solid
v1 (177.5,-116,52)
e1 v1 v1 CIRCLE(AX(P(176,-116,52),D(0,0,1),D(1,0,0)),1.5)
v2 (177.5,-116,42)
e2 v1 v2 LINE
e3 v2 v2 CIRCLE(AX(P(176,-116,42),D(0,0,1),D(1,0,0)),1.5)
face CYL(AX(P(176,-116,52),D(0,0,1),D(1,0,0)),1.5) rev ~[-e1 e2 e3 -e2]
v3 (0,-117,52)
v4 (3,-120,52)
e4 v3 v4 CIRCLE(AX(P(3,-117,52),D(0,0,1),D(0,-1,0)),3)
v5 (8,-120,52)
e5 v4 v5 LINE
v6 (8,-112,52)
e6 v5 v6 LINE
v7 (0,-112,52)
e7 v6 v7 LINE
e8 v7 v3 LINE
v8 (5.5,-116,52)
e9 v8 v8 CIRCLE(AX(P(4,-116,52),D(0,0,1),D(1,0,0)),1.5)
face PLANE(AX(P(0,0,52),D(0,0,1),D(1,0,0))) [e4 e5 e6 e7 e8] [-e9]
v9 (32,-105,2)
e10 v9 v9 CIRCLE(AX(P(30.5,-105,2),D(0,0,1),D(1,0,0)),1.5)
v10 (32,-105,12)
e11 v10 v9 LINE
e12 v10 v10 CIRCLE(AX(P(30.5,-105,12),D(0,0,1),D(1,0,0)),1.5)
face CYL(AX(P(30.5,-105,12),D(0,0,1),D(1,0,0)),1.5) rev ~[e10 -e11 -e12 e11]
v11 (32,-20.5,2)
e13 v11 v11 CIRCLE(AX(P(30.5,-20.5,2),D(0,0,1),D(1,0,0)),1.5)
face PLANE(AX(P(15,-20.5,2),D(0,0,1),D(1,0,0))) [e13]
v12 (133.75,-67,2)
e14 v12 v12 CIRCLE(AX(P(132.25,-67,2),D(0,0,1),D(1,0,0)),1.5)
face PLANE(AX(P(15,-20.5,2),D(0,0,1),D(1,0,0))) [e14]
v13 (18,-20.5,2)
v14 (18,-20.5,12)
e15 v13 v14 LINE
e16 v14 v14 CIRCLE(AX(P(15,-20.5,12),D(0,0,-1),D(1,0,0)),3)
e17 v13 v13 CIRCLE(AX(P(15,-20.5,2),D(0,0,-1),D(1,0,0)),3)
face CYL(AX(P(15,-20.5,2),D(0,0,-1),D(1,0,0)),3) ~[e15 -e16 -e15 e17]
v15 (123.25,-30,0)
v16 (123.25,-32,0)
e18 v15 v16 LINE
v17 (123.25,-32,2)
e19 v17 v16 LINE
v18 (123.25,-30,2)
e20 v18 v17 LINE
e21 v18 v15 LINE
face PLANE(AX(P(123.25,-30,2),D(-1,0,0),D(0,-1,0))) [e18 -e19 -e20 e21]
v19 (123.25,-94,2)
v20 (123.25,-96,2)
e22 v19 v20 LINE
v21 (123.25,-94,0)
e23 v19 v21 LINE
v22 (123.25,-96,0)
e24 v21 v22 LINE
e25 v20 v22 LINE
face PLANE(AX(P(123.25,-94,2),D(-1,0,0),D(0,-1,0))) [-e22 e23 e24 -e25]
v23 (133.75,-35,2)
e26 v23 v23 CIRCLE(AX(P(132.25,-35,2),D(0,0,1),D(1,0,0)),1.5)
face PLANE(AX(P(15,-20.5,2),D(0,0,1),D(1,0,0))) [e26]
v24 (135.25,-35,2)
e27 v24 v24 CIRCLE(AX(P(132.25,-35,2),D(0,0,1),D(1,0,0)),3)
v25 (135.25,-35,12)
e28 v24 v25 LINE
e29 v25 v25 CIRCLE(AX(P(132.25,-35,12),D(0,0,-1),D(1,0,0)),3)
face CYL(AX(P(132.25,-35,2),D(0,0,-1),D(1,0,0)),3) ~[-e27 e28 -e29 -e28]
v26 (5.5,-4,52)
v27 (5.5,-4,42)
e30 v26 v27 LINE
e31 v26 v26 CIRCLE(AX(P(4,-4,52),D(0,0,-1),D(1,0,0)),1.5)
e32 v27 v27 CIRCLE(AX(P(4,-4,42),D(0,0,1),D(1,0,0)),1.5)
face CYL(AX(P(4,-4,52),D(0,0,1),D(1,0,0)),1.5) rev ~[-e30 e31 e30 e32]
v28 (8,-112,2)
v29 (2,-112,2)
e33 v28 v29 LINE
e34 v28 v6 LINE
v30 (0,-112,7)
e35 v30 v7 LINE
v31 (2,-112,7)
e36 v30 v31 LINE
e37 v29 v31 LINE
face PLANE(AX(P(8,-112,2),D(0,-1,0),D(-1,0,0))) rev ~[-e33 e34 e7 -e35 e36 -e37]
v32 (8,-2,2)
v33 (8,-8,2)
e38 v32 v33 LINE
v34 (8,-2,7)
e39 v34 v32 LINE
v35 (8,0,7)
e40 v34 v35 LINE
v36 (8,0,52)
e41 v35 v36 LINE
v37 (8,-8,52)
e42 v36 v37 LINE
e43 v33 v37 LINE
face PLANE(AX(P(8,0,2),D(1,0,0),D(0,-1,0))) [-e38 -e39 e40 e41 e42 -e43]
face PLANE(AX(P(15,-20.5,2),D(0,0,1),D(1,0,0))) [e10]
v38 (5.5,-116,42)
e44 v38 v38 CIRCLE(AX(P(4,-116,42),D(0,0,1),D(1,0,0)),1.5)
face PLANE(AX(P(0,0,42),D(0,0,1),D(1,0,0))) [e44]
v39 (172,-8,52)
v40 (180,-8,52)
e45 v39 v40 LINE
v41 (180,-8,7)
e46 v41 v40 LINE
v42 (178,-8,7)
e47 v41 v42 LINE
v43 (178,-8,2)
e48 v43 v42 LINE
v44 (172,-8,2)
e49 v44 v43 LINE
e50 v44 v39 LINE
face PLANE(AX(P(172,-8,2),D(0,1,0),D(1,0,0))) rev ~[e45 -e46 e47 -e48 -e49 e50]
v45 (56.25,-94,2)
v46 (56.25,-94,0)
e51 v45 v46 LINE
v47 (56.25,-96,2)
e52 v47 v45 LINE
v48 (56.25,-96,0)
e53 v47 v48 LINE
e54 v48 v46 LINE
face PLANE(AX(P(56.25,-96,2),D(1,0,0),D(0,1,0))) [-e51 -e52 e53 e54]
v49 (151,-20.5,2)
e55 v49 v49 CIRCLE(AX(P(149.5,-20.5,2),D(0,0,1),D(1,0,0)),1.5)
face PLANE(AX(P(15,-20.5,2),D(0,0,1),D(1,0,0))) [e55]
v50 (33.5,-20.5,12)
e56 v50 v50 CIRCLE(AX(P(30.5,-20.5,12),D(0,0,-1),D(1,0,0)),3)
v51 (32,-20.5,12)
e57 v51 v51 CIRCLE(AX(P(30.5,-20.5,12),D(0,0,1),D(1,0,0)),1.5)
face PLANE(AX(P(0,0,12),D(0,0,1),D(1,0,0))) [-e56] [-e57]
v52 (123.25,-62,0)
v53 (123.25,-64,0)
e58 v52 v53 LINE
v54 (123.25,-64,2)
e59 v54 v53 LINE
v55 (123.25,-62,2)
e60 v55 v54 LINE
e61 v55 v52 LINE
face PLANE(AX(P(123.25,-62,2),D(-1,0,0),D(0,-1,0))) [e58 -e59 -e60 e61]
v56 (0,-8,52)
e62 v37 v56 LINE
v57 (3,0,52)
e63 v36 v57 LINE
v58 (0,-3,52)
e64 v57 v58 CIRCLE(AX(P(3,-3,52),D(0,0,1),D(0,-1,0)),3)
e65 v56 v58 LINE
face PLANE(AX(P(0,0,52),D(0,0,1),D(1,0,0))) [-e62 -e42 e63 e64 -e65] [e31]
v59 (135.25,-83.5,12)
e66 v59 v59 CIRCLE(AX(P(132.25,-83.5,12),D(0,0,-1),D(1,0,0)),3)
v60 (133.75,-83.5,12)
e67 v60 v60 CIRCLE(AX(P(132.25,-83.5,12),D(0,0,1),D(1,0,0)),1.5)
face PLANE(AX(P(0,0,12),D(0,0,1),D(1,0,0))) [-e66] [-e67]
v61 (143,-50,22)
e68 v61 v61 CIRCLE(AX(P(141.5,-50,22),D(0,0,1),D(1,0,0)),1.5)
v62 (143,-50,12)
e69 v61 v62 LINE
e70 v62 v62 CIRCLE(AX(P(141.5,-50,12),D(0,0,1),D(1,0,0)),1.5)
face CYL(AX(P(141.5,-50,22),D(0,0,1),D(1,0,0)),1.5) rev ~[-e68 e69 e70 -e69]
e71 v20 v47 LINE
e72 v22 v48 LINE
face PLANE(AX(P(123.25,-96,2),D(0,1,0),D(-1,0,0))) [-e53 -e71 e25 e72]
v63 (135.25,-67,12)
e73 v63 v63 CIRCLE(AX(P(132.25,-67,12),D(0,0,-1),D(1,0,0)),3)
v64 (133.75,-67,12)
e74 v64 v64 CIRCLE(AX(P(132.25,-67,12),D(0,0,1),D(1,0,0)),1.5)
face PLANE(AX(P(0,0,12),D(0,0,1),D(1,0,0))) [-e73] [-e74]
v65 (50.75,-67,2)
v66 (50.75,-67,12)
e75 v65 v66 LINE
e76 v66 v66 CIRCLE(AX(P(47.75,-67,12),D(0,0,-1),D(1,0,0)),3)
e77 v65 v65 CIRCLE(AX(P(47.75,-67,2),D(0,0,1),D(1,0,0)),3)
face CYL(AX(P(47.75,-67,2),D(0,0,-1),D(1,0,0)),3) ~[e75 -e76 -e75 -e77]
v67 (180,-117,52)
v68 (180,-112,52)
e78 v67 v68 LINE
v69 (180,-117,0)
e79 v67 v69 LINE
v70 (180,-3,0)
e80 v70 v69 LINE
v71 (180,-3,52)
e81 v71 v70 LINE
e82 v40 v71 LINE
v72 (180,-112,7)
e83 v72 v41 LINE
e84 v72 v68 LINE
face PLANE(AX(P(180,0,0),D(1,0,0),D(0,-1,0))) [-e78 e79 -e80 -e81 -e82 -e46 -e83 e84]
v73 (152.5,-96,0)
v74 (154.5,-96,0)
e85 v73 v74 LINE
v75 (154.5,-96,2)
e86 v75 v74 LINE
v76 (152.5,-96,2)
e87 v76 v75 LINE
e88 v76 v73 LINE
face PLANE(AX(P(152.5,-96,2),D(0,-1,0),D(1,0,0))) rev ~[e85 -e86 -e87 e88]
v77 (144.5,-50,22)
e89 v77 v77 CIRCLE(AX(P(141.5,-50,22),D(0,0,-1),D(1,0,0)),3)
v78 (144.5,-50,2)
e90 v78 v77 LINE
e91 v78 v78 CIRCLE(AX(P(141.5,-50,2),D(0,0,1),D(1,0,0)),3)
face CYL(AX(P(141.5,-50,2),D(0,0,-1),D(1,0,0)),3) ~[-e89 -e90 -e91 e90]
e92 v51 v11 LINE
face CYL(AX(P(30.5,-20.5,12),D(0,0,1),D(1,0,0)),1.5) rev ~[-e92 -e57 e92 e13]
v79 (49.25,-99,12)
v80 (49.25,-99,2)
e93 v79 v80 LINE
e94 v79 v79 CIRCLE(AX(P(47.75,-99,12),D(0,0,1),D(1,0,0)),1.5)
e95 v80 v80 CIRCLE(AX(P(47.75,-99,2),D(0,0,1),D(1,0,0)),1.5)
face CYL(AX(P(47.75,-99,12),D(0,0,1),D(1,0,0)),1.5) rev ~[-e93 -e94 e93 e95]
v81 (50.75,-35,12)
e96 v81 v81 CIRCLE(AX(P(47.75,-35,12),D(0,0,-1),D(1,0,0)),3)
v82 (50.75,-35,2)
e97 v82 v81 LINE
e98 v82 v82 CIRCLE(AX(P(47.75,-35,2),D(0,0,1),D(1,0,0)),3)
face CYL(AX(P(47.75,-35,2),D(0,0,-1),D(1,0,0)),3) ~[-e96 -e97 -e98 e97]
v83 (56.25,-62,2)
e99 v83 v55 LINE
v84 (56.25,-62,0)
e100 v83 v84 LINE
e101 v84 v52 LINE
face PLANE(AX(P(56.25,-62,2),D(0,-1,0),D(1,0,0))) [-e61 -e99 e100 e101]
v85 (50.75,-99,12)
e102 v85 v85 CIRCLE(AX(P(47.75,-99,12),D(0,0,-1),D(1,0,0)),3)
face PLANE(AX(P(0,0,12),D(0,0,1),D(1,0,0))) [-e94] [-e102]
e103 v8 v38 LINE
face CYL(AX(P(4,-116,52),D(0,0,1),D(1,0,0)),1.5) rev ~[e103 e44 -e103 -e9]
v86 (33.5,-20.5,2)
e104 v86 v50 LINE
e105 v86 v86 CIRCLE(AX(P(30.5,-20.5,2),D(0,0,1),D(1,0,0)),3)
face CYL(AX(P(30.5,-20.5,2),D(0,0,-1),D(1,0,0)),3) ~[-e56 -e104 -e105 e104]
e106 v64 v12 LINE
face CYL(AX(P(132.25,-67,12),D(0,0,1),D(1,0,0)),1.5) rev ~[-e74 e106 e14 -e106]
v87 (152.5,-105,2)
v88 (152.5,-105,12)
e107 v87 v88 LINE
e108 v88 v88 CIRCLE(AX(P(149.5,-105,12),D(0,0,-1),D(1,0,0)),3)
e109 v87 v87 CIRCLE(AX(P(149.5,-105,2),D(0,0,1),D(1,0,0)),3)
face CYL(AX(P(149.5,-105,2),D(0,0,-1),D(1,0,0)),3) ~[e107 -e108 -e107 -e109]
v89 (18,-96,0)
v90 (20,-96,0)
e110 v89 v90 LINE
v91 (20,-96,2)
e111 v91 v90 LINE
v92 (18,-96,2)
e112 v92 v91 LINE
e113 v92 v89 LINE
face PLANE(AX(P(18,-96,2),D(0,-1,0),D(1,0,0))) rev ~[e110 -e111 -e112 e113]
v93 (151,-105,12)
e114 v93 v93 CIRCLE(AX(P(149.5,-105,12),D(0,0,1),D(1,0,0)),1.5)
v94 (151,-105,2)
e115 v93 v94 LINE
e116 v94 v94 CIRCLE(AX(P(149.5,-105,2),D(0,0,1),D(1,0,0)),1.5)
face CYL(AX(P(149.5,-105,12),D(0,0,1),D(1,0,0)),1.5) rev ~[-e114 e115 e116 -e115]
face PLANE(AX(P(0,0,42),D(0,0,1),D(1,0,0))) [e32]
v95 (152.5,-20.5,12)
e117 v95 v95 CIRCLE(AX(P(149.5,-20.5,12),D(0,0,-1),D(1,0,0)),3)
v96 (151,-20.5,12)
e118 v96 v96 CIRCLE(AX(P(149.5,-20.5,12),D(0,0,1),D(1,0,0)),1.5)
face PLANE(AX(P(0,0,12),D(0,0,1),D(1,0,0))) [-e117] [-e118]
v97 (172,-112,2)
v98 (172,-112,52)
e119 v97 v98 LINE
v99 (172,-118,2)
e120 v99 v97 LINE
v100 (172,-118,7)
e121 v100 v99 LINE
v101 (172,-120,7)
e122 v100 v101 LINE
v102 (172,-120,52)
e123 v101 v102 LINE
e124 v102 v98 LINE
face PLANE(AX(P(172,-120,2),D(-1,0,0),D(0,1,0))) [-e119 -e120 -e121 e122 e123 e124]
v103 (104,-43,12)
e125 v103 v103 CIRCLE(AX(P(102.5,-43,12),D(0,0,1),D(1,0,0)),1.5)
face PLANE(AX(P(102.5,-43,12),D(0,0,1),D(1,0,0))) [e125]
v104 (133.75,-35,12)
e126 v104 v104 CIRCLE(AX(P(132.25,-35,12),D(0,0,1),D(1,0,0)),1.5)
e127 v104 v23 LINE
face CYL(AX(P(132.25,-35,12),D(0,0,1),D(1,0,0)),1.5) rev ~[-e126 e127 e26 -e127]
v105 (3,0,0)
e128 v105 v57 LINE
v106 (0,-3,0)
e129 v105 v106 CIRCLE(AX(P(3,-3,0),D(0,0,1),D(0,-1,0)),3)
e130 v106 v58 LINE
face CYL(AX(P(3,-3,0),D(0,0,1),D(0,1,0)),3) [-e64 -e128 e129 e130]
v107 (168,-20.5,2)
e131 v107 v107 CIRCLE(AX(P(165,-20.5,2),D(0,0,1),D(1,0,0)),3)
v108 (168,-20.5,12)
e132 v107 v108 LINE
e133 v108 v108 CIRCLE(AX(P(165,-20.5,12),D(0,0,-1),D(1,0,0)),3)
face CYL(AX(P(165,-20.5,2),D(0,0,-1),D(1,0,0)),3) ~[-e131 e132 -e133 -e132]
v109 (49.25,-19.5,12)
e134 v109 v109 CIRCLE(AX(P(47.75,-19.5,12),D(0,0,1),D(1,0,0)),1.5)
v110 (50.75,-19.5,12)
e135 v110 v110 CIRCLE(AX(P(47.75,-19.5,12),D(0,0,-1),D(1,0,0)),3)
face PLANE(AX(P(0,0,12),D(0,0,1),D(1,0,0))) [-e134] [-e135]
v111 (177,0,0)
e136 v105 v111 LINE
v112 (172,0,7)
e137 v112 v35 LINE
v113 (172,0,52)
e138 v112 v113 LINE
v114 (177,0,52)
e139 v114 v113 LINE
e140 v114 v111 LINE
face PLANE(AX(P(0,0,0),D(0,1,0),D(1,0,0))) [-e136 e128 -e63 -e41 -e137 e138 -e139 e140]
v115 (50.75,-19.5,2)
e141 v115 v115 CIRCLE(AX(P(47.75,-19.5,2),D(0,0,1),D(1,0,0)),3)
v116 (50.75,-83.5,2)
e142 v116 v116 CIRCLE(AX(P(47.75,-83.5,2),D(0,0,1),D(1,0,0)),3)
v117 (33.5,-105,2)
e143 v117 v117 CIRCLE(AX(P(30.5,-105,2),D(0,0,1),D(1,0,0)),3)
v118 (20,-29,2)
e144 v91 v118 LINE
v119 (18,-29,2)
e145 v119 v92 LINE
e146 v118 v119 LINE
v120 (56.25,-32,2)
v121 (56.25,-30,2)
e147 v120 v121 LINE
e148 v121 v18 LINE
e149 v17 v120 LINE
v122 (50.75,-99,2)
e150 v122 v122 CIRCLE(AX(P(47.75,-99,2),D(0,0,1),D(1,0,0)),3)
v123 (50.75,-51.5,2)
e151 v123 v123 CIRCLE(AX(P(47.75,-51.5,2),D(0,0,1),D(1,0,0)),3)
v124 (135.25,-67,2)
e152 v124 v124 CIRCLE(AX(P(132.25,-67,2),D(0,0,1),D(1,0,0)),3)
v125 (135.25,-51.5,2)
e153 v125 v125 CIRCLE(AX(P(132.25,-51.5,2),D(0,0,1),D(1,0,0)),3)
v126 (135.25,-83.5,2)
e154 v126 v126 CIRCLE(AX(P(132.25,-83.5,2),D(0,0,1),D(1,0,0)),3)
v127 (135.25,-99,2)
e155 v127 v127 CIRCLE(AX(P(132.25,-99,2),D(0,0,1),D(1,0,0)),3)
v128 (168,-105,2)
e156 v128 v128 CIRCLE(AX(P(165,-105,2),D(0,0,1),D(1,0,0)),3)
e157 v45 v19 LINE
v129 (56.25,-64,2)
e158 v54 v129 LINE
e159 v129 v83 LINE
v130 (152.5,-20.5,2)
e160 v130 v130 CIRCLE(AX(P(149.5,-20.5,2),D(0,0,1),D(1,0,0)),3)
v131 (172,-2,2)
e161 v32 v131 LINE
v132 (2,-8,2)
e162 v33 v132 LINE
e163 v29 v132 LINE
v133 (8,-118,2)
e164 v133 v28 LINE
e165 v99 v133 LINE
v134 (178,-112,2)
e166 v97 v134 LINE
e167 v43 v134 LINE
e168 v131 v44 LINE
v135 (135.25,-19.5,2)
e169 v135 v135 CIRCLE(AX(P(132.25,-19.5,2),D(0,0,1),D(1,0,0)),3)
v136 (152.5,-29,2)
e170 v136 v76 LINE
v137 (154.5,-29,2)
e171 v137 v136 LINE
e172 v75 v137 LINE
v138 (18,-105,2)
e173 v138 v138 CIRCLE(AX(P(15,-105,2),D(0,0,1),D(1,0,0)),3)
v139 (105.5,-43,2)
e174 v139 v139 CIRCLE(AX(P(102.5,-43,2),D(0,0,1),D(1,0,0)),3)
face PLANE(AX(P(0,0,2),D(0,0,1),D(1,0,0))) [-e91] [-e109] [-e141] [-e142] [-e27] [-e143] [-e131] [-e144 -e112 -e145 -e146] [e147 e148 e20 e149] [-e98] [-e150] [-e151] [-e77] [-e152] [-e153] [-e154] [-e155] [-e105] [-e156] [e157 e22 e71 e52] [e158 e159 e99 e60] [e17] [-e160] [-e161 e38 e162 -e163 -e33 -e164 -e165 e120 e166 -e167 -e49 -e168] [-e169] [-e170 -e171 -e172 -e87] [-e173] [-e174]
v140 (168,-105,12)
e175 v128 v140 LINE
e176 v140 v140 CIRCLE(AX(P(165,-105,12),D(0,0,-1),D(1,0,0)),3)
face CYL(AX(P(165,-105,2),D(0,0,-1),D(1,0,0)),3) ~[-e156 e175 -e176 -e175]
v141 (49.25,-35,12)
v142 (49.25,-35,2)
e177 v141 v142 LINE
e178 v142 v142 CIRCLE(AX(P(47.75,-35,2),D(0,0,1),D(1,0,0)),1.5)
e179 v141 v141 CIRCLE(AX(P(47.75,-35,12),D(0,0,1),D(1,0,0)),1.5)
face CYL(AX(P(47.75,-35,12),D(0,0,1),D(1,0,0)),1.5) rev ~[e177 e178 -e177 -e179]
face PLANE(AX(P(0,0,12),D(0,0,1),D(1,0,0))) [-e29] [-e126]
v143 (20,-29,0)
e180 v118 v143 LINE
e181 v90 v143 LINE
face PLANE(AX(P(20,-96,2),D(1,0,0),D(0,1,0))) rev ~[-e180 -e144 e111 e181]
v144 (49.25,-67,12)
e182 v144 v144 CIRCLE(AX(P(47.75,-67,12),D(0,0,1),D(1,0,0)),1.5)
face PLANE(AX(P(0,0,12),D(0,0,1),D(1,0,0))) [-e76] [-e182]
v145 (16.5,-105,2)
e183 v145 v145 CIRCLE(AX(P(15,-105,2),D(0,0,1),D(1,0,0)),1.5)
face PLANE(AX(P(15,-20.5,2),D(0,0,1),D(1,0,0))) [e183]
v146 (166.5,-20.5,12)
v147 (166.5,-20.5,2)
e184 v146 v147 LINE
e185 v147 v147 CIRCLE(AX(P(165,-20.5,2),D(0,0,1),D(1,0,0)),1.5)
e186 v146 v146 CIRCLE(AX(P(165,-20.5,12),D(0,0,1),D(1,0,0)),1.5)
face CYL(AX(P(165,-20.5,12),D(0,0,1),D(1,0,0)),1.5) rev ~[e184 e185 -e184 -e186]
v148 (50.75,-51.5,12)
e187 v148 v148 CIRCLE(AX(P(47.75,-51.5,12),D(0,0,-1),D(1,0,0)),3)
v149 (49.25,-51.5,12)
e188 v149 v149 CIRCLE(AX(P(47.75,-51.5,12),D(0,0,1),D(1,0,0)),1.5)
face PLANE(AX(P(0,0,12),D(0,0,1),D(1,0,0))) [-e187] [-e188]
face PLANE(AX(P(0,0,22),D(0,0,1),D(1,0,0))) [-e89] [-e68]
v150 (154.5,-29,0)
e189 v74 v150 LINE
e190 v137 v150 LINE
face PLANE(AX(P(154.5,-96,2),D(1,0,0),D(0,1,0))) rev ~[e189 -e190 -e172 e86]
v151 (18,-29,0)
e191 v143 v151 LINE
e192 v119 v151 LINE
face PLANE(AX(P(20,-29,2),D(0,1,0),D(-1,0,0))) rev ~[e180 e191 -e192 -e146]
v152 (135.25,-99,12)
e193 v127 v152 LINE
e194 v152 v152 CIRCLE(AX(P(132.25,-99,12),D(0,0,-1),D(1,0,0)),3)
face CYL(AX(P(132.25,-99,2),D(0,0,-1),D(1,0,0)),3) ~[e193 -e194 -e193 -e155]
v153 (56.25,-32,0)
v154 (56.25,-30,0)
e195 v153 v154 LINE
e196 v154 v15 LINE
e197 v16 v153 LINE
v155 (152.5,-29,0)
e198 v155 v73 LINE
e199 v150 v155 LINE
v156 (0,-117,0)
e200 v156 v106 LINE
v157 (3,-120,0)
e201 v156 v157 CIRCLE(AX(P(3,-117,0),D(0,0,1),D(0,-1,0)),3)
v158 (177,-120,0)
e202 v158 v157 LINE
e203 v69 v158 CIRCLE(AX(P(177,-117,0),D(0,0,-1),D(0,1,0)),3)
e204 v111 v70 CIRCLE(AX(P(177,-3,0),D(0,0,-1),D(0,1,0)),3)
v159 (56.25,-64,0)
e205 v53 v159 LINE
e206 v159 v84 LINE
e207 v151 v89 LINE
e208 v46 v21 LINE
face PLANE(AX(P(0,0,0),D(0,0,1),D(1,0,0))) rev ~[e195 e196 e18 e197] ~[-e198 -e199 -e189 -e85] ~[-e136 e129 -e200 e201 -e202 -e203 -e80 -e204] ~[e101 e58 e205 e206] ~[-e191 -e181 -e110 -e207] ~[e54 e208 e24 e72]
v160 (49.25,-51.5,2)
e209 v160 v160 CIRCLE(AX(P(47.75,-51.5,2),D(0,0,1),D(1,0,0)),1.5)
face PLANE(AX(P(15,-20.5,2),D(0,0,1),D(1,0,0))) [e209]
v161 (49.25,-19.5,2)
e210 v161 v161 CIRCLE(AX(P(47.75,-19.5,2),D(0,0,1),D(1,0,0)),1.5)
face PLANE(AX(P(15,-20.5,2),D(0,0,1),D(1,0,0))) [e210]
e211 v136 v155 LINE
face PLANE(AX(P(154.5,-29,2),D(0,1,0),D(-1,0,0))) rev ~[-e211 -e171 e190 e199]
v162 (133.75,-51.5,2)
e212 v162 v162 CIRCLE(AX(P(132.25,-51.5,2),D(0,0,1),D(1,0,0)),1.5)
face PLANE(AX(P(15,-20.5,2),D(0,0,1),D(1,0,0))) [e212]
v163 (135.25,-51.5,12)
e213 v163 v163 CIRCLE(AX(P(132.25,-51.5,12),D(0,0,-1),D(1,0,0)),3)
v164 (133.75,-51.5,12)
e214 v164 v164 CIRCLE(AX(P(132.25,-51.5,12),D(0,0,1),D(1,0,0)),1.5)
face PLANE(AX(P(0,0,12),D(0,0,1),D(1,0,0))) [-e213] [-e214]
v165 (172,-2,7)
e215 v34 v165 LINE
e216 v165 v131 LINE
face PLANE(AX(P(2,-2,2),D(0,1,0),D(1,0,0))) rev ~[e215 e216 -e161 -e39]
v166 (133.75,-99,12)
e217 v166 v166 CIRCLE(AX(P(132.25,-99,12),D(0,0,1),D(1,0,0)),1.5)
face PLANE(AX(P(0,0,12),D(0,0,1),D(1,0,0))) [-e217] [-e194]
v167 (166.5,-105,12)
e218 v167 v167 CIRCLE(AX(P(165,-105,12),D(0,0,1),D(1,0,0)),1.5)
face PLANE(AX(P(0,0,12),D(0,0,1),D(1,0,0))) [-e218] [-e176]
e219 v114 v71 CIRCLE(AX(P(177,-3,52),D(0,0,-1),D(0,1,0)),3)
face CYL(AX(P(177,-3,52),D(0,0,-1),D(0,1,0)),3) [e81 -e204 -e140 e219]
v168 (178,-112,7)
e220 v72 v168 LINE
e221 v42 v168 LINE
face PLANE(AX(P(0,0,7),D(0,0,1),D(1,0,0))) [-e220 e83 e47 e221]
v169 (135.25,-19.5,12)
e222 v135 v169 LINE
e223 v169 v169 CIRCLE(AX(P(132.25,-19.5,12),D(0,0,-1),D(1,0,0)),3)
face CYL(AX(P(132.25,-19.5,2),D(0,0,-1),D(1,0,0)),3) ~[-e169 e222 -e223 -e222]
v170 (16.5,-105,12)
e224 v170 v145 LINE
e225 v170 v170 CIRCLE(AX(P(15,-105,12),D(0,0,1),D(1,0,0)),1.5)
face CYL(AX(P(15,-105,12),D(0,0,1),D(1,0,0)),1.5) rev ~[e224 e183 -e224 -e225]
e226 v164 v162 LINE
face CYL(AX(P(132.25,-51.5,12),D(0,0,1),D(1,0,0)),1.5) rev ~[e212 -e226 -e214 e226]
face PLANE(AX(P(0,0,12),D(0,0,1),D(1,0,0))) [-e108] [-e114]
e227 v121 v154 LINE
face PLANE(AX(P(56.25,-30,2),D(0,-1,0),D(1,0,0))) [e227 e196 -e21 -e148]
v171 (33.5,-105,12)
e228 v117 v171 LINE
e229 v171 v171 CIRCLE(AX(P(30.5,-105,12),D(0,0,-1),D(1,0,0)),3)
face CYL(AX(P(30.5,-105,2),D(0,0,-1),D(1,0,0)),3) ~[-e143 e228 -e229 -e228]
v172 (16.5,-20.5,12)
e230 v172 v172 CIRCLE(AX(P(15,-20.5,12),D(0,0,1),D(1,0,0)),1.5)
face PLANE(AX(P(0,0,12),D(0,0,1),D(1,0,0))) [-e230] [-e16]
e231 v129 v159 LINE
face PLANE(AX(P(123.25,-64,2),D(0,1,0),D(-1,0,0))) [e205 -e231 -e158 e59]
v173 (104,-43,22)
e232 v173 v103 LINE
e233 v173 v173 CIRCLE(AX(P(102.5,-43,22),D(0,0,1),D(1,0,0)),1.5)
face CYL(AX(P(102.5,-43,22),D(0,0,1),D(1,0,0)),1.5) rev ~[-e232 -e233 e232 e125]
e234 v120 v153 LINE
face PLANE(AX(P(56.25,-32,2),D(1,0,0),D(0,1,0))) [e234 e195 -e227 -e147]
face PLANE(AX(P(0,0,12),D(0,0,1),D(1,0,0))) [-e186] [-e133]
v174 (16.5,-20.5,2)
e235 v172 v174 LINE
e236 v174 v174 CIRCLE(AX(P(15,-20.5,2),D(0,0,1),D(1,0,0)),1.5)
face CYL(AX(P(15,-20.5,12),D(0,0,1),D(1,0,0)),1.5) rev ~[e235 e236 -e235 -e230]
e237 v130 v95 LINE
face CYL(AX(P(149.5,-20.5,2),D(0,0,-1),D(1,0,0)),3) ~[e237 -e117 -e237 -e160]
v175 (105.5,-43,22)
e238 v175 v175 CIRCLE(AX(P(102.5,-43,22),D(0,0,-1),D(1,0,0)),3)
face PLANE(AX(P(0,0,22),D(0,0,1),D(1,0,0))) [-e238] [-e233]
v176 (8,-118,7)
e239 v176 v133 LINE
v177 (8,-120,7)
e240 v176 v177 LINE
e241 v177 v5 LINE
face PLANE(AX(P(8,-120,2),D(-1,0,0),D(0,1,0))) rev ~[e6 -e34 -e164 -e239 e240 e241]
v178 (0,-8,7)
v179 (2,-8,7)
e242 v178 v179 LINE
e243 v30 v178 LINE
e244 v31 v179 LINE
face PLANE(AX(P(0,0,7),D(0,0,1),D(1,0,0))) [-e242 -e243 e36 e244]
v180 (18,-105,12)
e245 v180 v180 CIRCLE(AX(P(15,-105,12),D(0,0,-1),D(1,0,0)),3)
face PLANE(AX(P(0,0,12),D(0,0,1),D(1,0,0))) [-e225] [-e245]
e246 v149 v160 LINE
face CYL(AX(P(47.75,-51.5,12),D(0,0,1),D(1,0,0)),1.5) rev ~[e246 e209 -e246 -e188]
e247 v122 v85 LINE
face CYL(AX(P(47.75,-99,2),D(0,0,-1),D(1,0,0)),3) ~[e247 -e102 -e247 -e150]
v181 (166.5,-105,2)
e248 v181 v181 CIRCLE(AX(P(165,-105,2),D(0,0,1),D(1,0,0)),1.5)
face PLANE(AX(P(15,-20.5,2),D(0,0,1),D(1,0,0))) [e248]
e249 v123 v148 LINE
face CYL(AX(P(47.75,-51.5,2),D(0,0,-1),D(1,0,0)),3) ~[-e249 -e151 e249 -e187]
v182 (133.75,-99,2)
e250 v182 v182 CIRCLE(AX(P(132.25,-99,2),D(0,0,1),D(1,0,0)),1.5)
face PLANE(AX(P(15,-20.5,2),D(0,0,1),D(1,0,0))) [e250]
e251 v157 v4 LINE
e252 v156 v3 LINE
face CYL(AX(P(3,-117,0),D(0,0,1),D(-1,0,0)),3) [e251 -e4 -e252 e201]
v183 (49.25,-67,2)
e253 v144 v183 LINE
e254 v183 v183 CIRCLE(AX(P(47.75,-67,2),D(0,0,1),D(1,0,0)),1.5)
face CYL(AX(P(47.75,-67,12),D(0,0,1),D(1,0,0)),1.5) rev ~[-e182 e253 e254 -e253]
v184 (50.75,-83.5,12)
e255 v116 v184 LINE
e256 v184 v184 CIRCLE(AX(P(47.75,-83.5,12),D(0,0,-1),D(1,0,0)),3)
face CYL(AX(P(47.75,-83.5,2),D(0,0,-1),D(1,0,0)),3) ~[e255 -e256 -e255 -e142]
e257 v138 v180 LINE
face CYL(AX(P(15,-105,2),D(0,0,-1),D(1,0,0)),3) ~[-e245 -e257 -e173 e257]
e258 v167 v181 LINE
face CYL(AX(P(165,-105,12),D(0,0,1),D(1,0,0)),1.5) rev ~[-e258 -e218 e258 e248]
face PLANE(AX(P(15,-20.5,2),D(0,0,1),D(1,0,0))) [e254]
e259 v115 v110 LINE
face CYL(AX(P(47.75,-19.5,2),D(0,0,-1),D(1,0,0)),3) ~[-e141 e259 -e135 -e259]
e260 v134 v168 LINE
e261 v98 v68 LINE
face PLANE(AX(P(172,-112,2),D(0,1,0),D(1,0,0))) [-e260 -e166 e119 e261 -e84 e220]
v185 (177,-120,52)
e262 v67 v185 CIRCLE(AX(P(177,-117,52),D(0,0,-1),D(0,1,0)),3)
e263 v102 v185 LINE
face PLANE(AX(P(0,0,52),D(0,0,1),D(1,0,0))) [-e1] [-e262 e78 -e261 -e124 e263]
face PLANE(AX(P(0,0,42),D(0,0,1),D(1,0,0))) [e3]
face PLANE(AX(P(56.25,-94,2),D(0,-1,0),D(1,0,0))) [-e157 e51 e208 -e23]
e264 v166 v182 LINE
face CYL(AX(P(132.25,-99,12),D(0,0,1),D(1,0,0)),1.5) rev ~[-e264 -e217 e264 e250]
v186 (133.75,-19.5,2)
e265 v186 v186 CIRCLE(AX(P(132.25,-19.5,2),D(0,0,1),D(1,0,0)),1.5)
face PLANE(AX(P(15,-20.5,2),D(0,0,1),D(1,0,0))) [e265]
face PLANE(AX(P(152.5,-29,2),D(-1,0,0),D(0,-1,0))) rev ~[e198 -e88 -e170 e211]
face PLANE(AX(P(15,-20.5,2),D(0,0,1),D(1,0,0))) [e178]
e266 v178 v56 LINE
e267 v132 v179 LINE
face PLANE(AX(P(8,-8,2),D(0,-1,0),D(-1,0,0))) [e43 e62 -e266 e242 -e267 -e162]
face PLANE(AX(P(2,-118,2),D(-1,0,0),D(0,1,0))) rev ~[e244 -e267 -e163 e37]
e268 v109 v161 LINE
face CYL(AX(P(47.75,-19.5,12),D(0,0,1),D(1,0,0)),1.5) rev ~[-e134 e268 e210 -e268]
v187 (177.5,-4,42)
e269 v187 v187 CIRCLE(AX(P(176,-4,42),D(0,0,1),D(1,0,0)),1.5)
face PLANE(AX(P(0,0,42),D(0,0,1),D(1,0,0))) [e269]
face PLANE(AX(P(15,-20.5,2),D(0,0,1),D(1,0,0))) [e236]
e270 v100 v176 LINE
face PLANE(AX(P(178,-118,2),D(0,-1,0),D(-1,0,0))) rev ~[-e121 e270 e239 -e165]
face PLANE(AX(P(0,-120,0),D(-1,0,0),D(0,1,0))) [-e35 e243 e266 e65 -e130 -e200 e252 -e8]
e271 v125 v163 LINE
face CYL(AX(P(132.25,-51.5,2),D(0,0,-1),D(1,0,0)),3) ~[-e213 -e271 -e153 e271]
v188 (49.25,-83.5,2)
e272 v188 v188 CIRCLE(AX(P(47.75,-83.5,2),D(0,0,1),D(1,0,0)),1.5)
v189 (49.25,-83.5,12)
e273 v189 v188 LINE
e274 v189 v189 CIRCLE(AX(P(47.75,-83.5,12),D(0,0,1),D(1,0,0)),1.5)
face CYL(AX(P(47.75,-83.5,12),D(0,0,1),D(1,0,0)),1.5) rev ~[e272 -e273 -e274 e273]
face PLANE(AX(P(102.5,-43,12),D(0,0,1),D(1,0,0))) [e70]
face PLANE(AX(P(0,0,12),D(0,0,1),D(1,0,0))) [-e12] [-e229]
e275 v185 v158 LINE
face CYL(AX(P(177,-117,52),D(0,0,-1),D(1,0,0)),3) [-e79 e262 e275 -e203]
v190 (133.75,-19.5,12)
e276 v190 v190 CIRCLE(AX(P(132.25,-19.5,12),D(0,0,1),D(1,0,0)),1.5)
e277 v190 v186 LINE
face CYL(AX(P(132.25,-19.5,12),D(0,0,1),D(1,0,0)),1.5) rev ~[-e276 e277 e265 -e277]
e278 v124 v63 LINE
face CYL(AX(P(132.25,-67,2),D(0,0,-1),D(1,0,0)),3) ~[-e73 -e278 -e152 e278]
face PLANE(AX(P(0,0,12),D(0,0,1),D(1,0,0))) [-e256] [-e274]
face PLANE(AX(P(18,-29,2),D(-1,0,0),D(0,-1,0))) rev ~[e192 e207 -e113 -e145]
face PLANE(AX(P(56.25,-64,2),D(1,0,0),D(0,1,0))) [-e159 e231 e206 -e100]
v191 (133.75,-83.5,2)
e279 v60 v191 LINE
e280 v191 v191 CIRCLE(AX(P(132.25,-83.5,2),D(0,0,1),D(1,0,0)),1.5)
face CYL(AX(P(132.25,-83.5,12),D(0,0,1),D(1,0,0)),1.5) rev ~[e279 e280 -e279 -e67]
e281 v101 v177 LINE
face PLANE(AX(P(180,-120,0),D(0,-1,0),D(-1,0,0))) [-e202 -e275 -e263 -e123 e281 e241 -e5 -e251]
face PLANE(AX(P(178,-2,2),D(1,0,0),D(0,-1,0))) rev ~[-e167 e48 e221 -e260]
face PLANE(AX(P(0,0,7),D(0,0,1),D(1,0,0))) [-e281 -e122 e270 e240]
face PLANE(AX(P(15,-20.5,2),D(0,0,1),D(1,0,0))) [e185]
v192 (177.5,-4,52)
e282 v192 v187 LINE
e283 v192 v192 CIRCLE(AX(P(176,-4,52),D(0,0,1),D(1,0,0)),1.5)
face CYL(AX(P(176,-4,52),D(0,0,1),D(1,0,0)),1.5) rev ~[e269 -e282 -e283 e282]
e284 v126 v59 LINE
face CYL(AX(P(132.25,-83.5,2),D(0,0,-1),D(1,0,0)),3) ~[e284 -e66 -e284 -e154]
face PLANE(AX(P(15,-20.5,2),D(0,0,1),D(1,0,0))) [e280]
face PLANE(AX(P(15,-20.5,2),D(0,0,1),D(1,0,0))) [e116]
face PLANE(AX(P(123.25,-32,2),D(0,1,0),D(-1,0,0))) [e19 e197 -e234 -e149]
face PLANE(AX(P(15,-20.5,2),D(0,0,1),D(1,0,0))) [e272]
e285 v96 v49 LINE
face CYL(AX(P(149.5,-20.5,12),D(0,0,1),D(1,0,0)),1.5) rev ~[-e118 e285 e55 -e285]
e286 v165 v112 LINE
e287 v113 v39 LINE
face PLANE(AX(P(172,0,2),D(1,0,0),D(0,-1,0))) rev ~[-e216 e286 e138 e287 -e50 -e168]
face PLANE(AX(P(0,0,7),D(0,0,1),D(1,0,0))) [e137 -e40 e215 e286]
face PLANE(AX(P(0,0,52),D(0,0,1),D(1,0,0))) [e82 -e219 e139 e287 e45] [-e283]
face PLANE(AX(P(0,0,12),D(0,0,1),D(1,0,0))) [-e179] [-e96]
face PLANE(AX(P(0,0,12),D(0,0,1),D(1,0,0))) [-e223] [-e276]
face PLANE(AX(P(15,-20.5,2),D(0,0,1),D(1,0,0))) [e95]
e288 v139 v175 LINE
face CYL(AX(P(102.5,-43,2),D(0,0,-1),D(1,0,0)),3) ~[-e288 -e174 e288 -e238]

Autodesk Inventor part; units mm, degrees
ref_plane "YZ Plane" through (0, 0, 0) normal (1, 0, 0) x (0, 1, 0)
ref_plane "XZ Plane" through (0, 0, 0) normal (0, 1, 0) x (-1, 0, 0)
ref_plane "XY Plane" through (0, 0, 0) normal (0, 0, 1) x (1, 0, 0)
sketch "Sketch2" plane through (0, 0, 0) normal (0, 0, 1) x (1, 0, 0)
  line L0 (0, 0) -> (180, 0)
  line L1 (180, 0) -> (180, -120)
  line L2 (180, -120) -> (0, -120)
  line L3 (0, -120) -> (0, 0)
  dimension "d0" = 180
  dimension "d1" = 120
extrude "Extrusion1" add sketch "Sketch2" along normal blind 2
sketch "Sketch3" plane through (0, 0, 2) normal (0, 0, 1) x (1, 0, 0)
  line L0 (15, -20.5) -> (30.5, -20.5)
  line L1 (30.5, -20.5) -> (30.5, -105)
  line L2 (30.5, -105) -> (15, -105)
  line L3 (15, -105) -> (15, -20.5)
  line L4 (18, -29) -> (20, -29)
  line L5 (20, -29) -> (20, -96)
  line L6 (20, -96) -> (18, -96)
  line L7 (18, -96) -> (18, -29)
  line L8 (15, -105) -> (18, -105)
  line L9 (18, -105) -> (18, -96)
  line L10 (18, -96) -> (15, -96)
  line L11 (15, -96) -> (15, -105)
  circle A0 centre (15, -20.5) radius 1.5
  circle A1 centre (30.5, -20.5) radius 1.5
  circle A2 centre (15, -105) radius 1.5
  circle A3 centre (30.5, -105) radius 1.5
  line L12 (149.5, -20.5) -> (165, -20.5)
  line L13 (165, -20.5) -> (165, -105)
  line L14 (165, -105) -> (149.5, -105)
  line L15 (149.5, -105) -> (149.5, -20.5)
  line L16 (152.5, -29) -> (154.5, -29)
  line L17 (154.5, -29) -> (154.5, -96)
  line L18 (154.5, -96) -> (152.5, -96)
  line L19 (152.5, -96) -> (152.5, -29)
  line L20 (149.5, -105) -> (152.5, -105)
  line L21 (152.5, -105) -> (152.5, -96)
  line L22 (152.5, -96) -> (149.5, -96)
  line L23 (149.5, -96) -> (149.5, -105)
  circle A4 centre (149.5, -20.5) radius 1.5
  circle A5 centre (165, -20.5) radius 1.5
  circle A6 centre (149.5, -105) radius 1.5
  line L24 (47.75, -99) -> (47.75, -83.5)
  line L25 (47.75, -83.5) -> (132.25, -83.5)
  line L26 (132.25, -83.5) -> (132.25, -99)
  line L27 (132.25, -99) -> (47.75, -99)
  circle A7 centre (47.75, -99) radius 1.5
  circle A8 centre (47.75, -83.5) radius 1.5
  circle A9 centre (132.25, -99) radius 1.5
  circle A10 centre (132.25, -83.5) radius 1.5
  line L28 (0, -120) -> (180, -120) projected
  line L29 (180, 0) -> (0, 0) projected
  line L30 (90, 0) -> (90, -120)
  line L31 (0, 0) -> (0, -120) projected
  line L32 (90, -120) -> (47.75, -120)
  line L33 (47.75, -120) -> (47.75, -99)
  line L34 (47.75, -99) -> (90, -99)
  line L35 (90, -99) -> (90, -120)
  line L36 (132.25, -99) -> (123.25, -99)
  line L37 (123.25, -99) -> (123.25, -96)
  line L38 (123.25, -96) -> (132.25, -96)
  line L39 (132.25, -96) -> (132.25, -99)
  line L40 (123.25, -96) -> (56.25, -96)
  line L41 (56.25, -96) -> (56.25, -94)
  line L42 (56.25, -94) -> (123.25, -94)
  line L43 (123.25, -94) -> (123.25, -96)
  circle A11 centre (15, -20.5) radius 3
  circle A12 centre (30.5, -20.5) radius 3
  circle A13 centre (15, -105) radius 3
  circle A14 centre (30.5, -105) radius 3
  circle A15 centre (149.5, -105) radius 3
  circle A16 centre (165, -105) radius 3
  circle A17 centre (149.5, -20.5) radius 3
  circle A18 centre (165, -20.5) radius 3
  circle A19 centre (47.75, -83.5) radius 3
  circle A20 centre (47.75, -99) radius 3
  circle A21 centre (132.25, -83.5) radius 3
  circle A22 centre (132.25, -99) radius 3
  circle A23 centre (47.75, -51.5) radius 1.5
  circle A24 centre (47.75, -51.5) radius 3
  circle A25 centre (47.75, -67) radius 1.5
  circle A26 centre (47.75, -67) radius 3
  line L44 (132.25, -67) -> (47.75, -67)
  line L45 (47.75, -67) -> (47.75, -51.5)
  line L46 (47.75, -51.5) -> (132.25, -51.5)
  line L47 (56.25, -62) -> (123.25, -62)
  line L48 (123.25, -64) -> (56.25, -64)
  line L49 (56.25, -64) -> (56.25, -62)
  line L50 (47.75, -67) -> (90, -67)
  line L51 (123.25, -67) -> (123.25, -64)
  line L52 (123.25, -62) -> (123.25, -64)
  line L53 (132.25, -67) -> (123.25, -67)
  line L54 (123.25, -64) -> (132.25, -64)
  line L55 (132.25, -64) -> (132.25, -67)
  circle A27 centre (132.25, -67) radius 1.5
  circle A28 centre (132.25, -67) radius 3
  line L56 (132.25, -51.5) -> (132.25, -67)
  circle A29 centre (132.25, -51.5) radius 1.5
  circle A30 centre (132.25, -51.5) radius 3
  circle A31 centre (47.75, -19.5) radius 1.5
  circle A32 centre (47.75, -19.5) radius 3
  circle A33 centre (47.75, -35) radius 1.5
  circle A34 centre (47.75, -35) radius 3
  line L57 (132.25, -35) -> (47.75, -35)
  line L58 (47.75, -35) -> (47.75, -19.5)
  line L59 (47.75, -19.5) -> (132.25, -19.5)
  line L60 (56.25, -30) -> (123.25, -30)
  line L61 (123.25, -32) -> (56.25, -32)
  line L62 (56.25, -32) -> (56.25, -30)
  line L63 (47.75, -35) -> (90, -35)
  line L64 (123.25, -35) -> (123.25, -32)
  line L65 (123.25, -30) -> (123.25, -32)
  line L66 (132.25, -35) -> (123.25, -35)
  line L67 (123.25, -32) -> (132.25, -32)
  line L68 (132.25, -32) -> (132.25, -35)
  circle A35 centre (132.25, -35) radius 1.5
  circle A36 centre (132.25, -35) radius 3
  line L69 (132.25, -19.5) -> (132.25, -35)
  circle A37 centre (132.25, -19.5) radius 1.5
  circle A38 centre (132.25, -19.5) radius 3
  line L70 (0, -120) -> (15, -120)
  line L71 (15, -120) -> (15, -105)
  line L72 (15, -105) -> (0, -105)
  line L73 (0, -105) -> (0, -120)
  line L74 (180, -120) -> (165, -120)
  line L75 (165, -120) -> (165, -105)
  line L76 (165, -105) -> (180, -105)
  line L77 (180, -105) -> (180, -120)
  circle A39 centre (165, -105) radius 1.5
  point P0 (90, -99)
  point P1 (83.5338, -99)
  point P2 (90, -67)
  point P3 (83.5338, -67)
  point P4 (90, -35)
  point P5 (83.5338, -35)
  point P6 (90, -30)
  point P7 (90, -32)
  point P8 (90, -94)
  point P9 (90, -96)
  dimension "d4" = 15.5
  dimension "d5" = 84.5
  dimension "d6" = 2
  dimension "d7" = 67
  dimension "d10" = 3
  dimension "d11" = 9
  dimension "d12" = 3
  dimension "d13" = 3
  dimension "d14" = 3
  dimension "d15" = 3
  dimension "d16" = 15.5
  dimension "d17" = 84.5
  dimension "d18" = 2
  dimension "d19" = 67
  dimension "d20" = 3
  dimension "d21" = 9
  dimension "d22" = 3
  dimension "d23" = 3
  dimension "d24" = 3
  dimension "d26" = 15.5
  dimension "d27" = 84.5
  dimension "d32" = 3
  dimension "d33" = 3
  dimension "d34" = 3
  dimension "d35" = 3
  dimension "d96" = 42.25
  dimension "d97" = 21
  dimension "d98" = 9
  dimension "d99" = 3
  dimension "d100" = 67
  dimension "d101" = 2
  dimension "d131" = 6
  dimension "d132" = 6
  dimension "d133" = 6
  dimension "d134" = 6
  dimension "d135" = 6
  dimension "d136" = 6
  dimension "d137" = 6
  dimension "d138" = 6
  dimension "d139" = 6
  dimension "d140" = 6
  dimension "d141" = 6
  dimension "d142" = 6
  dimension "d145" = 32
  dimension "d150" = 15
  dimension "d151" = 15
  dimension "d152" = 15
  dimension "d153" = 15
  dimension "d154" = 3
sketch "Sketch4" plane through (0, 0, 2) normal (0, 0, 1) x (1, 0, 0)
  line L0 (180, 0) -> (0, 0) projected
  line L1 (0, 0) -> (8, 0)
  line L2 (8, 0) -> (8, -8)
  line L3 (8, -8) -> (0, -8)
  line L4 (0, -8) -> (0, 0)
  line L5 (90, 0) -> (90, -120)
  line L6 (0, -120) -> (180, -120) projected
  line L7 (0, 0) -> (0, -120) projected
  line L8 (0, -60) -> (180, -60)
  line L9 (180, -120) -> (180, 0) projected
  line L10 (180, 0) -> (172, 0)
  line L11 (172, 0) -> (172, -8)
  line L12 (172, -8) -> (180, -8)
  line L13 (180, -8) -> (180, 0)
  line L14 (0, -120) -> (8, -120)
  line L15 (8, -120) -> (8, -112)
  line L16 (8, -112) -> (0, -112)
  line L17 (0, -112) -> (0, -120)
  line L18 (180, -120) -> (172, -120)
  line L19 (172, -120) -> (172, -112)
  line L20 (172, -112) -> (180, -112)
  line L21 (180, -112) -> (180, -120)
  point P0 (172, 0)
  point P1 (180, -112)
  point P2 (172, -120)
  point P3 (0, -112)
  point P4 (8, -120)
  point P5 (8, 0)
  dimension "d56" = 8
  dimension "d57" = 8
extrude "Extrusion2" add sketch "Sketch3" along normal blind 10 contours L3 A0 L0 | L0 A0 L3 | A0 L3 A11 L0 | L0 A11 L3 A0 | A12 L1 A1 L0 | L0 A1 L1 A12 | A1 L1 L0 | L0 L1 A1 | A13 L2 A2 L3 | L3 A2 L72 A13 | A14 L2 A3 L1 | L1 A3 L2 A14 | A2 L2 L3 | L3 L72 A2 | A13 L71 A2 L2 | L72 A2 L71 A13 | A3 L2 L1 | L1 L2 A3 | L2 A2 L71 | L71 A2 L72 | A20 L24 A7 L33 | L33 A7 L27 A20 | L33 L27 A7 | A7 L24 L33 | A20 L27 A7 L24 | L59 A31 L58 A32 | A32 L58 A31 L59 | A38 L69 A37 L59 | L59 A37 L69 A38 | L75 A39 L76 A16 | A16 L14 A39 L75 | A7 L27 L24 | A19 L25 A8 L24 | L24 A8 L25 A19 | L59 L58 A31 | A31 L58 L59 | A37 L69 L59 | L59 L69 A37 | A16 L13 A39 L14 | L76 A39 L13 A16 | A39 L14 L75 | L75 L76 A39 | A22 L26 A9 L27 | L27 A9 L26 A22 | A8 L25 L24 | L24 L25 A8 | L58 A33 L57 A34 | A34 L57 A33 L58 | A36 L57 A35 L68 | L68 A35 L57 A36 | A39 L13 L14 | A15 L15 A6 L14 | L14 A6 L15 A15 | L76 L13 A39 | A9 L26 L27 | L27 L26 A9 | L58 L57 A33 | A33 L57 L58 | A35 L57 L68 | L68 L57 A35 | A6 L15 L14 | L14 L15 A6 | A18 L12 A5 L13 | L13 A5 L12 A18 | A21 L25 A10 L26 | L26 A10 L25 A21 | L46 A23 L45 A24 | A24 L45 A23 L46 | A30 L56 A29 L46 | L46 A29 L56 A30 | A5 L12 L13 | L13 L12 A5 | A10 L25 L26 | L26 L25 A10 | L44 A25 L45 A26 | A26 L45 A25 L44 | L46 L45 A23 | A23 L45 L46 | A29 L56 L46 | L46 L56 A29 | A17 L12 A4 L15 | L15 A4 L12 A17 | A28 L55 A27 L44 | L44 A27 L55 A28 | L44 L45 A25 | A25 L45 L44 | A4 L12 L15 | L15 L12 A4 | A27 L55 L44 | L44 L55 A27
sketch "Sketch6" plane through (0, 0, 2) normal (0, 0, 1) x (1, 0, 0)
  line L0 (100, -58) -> (154, -58)
  line L1 (154, -58) -> (154, -20)
  line L2 (154, -20) -> (100, -20)
  line L3 (100, -20) -> (100, -58)
  line L4 (0, -120) -> (180, -120) projected
  line L5 (100, -58) -> (102.5, -58)
  line L6 (102.5, -58) -> (102.5, -43)
  line L7 (102.5, -43) -> (100, -43)
  line L8 (100, -43) -> (100, -58)
  line L9 (154, -58) -> (141.5, -58)
  line L10 (141.5, -58) -> (141.5, -50)
  line L11 (141.5, -50) -> (154, -50)
  line L12 (154, -50) -> (154, -58)
  circle A0 centre (102.5, -43) radius 1.5
  circle A1 centre (102.5, -43) radius 3
  circle A2 centre (141.5, -50) radius 1.5
  circle A3 centre (141.5, -50) radius 3
  line L13 (0, -120) -> (180, -120) projected
  line L14 (180, -120) -> (154, -120)
  line L15 (154, -120) -> (154, -58)
  line L16 (154, -58) -> (180, -58)
  line L17 (180, -58) -> (180, -120)
  point P0 (0, 0)
  dimension "d115" = 54
  dimension "d116" = 38
  dimension "d209" = 2.5
  dimension "d210" = 15
  dimension "d211" = 12.5
  dimension "d212" = 8
  dimension "d213" = 3
  dimension "d214" = 6
  dimension "d215" = 3
  dimension "d216" = 6
  dimension "d217" = 26
  dimension "d218" = 62
sketch "Sketch7" plane through (15, -20.5, 12) normal (0, 0, 1) x (1, 0, 0)
  circle A0 centre (0, 0) radius 3 projected
  circle A1 centre (0, 0) radius 1.5
  circle A2 centre (15.5, 0) radius 3 projected
  circle A3 centre (15.5, 0) radius 1.5
  circle A4 centre (32.75, 1) radius 3 projected
  circle A5 centre (32.75, 1) radius 1.5
  circle A6 centre (32.75, -14.5) radius 3 projected
  circle A7 centre (32.75, -14.5) radius 1.5
  circle A8 centre (117.25, 1) radius 3 projected
  circle A9 centre (117.25, 1) radius 1.5
  circle A10 centre (117.25, -14.5) radius 3 projected
  circle A11 centre (117.25, -14.5) radius 1.5
  circle A12 centre (134.5, 0) radius 3 projected
  circle A13 centre (134.5, 0) radius 1.5
  circle A14 centre (150, 0) radius 3 projected
  circle A15 centre (150, 0) radius 1.5
  circle A16 centre (134.5, -84.5) radius 3 projected
  circle A17 centre (134.5, -84.5) radius 1.5
  circle A18 centre (150, -84.5) radius 3 projected
  circle A19 centre (150, -84.5) radius 1.5
  circle A20 centre (117.25, -31) radius 3 projected
  circle A21 centre (117.25, -31) radius 1.5
  circle A22 centre (117.25, -46.5) radius 3 projected
  circle A23 centre (117.25, -46.5) radius 1.5
  circle A24 centre (117.25, -63) radius 3 projected
  circle A25 centre (117.25, -63) radius 1.5
  circle A26 centre (117.25, -78.5) radius 3 projected
  circle A27 centre (117.25, -78.5) radius 1.5
  circle A28 centre (32.75, -31) radius 3 projected
  circle A29 centre (32.75, -31) radius 1.5
  circle A30 centre (32.75, -46.5) radius 3 projected
  circle A31 centre (32.75, -46.5) radius 1.5
  circle A32 centre (32.75, -63) radius 3 projected
  circle A33 centre (32.75, -63) radius 1.5
  circle A34 centre (32.75, -78.5) radius 3 projected
  circle A35 centre (32.75, -78.5) radius 1.5
  circle A36 centre (0, -84.5) radius 3 projected
  circle A37 centre (0, -84.5) radius 1.5
  circle A38 centre (15.5, -84.5) radius 3 projected
  circle A39 centre (15.5, -84.5) radius 1.5
  line L0 (3, -8.5) -> (5, -8.5) projected
  line L1 (5, -8.5) -> (5, -75.5) projected
  line L2 (3, -8.5) -> (5, -8.5)
  line L3 (5, -8.5) -> (5, -75.5)
  line L4 (5, -75.5) -> (3, -75.5)
  line L5 (3, -75.5) -> (3, -8.5)
  line L6 (118.25, -73.5) -> (118.25, -75.5) projected
  line L7 (118.25, -73.5) -> (85, -73.5) projected
  line L8 (118.25, -75.5) -> (51.25, -75.5)
  line L9 (51.25, -75.5) -> (51.25, -73.5)
  line L10 (51.25, -73.5) -> (118.25, -73.5)
  line L11 (118.25, -73.5) -> (118.25, -75.5)
  line L12 (51.25, -41.5) -> (51.25, -43.5) projected
  line L13 (51.25, -43.5) -> (118.25, -43.5) projected
  line L14 (51.25, -41.5) -> (118.25, -41.5)
  line L15 (118.25, -41.5) -> (118.25, -43.5)
  line L16 (118.25, -43.5) -> (51.25, -43.5)
  line L17 (51.25, -43.5) -> (51.25, -41.5)
  line L18 (118.25, -9.5) -> (85, -9.5) projected
  line L19 (85, -11.5) -> (118.25, -11.5) projected
  line L20 (51.25, -9.5) -> (118.25, -9.5)
  line L21 (118.25, -9.5) -> (118.25, -11.5)
  line L22 (118.25, -11.5) -> (51.25, -11.5)
  line L23 (51.25, -11.5) -> (51.25, -9.5)
  line L24 (157.5, -75.5) -> (157.5, -8.5) projected
  line L25 (159.5, -75.5) -> (159.5, -8.5) projected
  line L26 (157.5, -8.5) -> (159.5, -8.5)
  line L27 (159.5, -8.5) -> (159.5, -75.5)
  line L28 (159.5, -75.5) -> (157.5, -75.5)
  line L29 (157.5, -75.5) -> (157.5, -8.5)
  point P0 (-15, 20.5)
  point P1 (51.25, -11.5)
  dimension "d157" = 3
  dimension "d158" = 3
  dimension "d159" = 3
  dimension "d160" = 3
  dimension "d161" = 3
  dimension "d162" = 3
  dimension "d163" = 3
  dimension "d164" = 3
  dimension "d165" = 3
  dimension "d166" = 3
  dimension "d167" = 3
  dimension "d168" = 3
  dimension "d169" = 3
  dimension "d170" = 3
  dimension "d171" = 3
  dimension "d172" = 3
  dimension "d173" = 3
  dimension "d174" = 3
  dimension "d175" = 3
  dimension "d176" = 3
extrude "Extrusion3" cut sketch "Sketch7" against normal blind 10 contours A1 | A3 | A5 | A7 | A9 | A11 | A13 | A15 | A17 | A19 | A21 | A23 | A25 | A27 | A29 | A31 | A33 | A35 | A37 | A39
sketch "Sketch9" plane through (0, 0, 2) normal (0, 0, 1) x (1, 0, 0)
  line L0 (0, 0) -> (0, -120) projected
  line L1 (0, -120) -> (15, -120)
  line L2 (15, -120) -> (15, -105)
  line L3 (15, -105) -> (0, -105)
  line L4 (0, -105) -> (0, -120)
  circle A0 centre (15, -105) radius 3 projected
  circle A1 centre (30.5, -20.5) radius 1.5 projected
  line L5 (15, -105) -> (30.5, -105)
  line L6 (30.5, -105) -> (30.5, -20.5)
  line L7 (30.5, -20.5) -> (15, -20.5)
  line L8 (15, -20.5) -> (15, -105)
  line L9 (15, -105) -> (18, -105)
  line L10 (18, -105) -> (18, -96)
  line L11 (18, -96) -> (15, -96)
  line L12 (15, -96) -> (15, -105)
  line L13 (18, -96) -> (20, -96)
  line L14 (20, -96) -> (20, -29)
  line L15 (20, -29) -> (18, -29)
  line L16 (18, -29) -> (18, -96)
  circle A2 centre (165, -105) radius 3 projected
  line L17 (180, -120) -> (165, -120)
  line L18 (165, -120) -> (165, -105)
  line L19 (165, -105) -> (180, -105)
  line L20 (180, -105) -> (180, -120)
  line L21 (165, -105) -> (149.5, -105)
  line L22 (149.5, -105) -> (149.5, -20.5)
  line L23 (149.5, -20.5) -> (165, -20.5)
  line L24 (165, -20.5) -> (165, -105)
  circle A3 centre (149.5, -105) radius 1.5 projected
  line L25 (149.5, -105) -> (152.5, -105)
  line L26 (152.5, -105) -> (152.5, -96)
  line L27 (152.5, -96) -> (149.5, -96)
  line L28 (149.5, -96) -> (149.5, -105)
  line L29 (152.5, -96) -> (154.5, -96)
  line L30 (154.5, -96) -> (154.5, -29)
  line L31 (154.5, -29) -> (152.5, -29)
  line L32 (152.5, -29) -> (152.5, -96)
  circle A4 centre (132.25, -99) radius 1.5 projected
  circle A5 centre (47.75, -83.5) radius 1.5 projected
  line L33 (132.25, -99) -> (47.75, -99)
  line L34 (47.75, -99) -> (47.75, -83.5)
  line L35 (47.75, -83.5) -> (132.25, -83.5)
  line L36 (132.25, -83.5) -> (132.25, -99)
  line L37 (132.25, -99) -> (123.25, -99)
  line L38 (123.25, -99) -> (123.25, -96)
  line L39 (123.25, -96) -> (132.25, -96)
  line L40 (132.25, -96) -> (132.25, -99)
  line L41 (123.25, -96) -> (56.25, -96)
  line L42 (56.25, -96) -> (56.25, -94)
  line L43 (56.25, -94) -> (123.25, -94)
  line L44 (123.25, -94) -> (123.25, -96)
  circle A6 centre (132.25, -67) radius 1.5 projected
  circle A7 centre (47.75, -51.5) radius 1.5 projected
  line L45 (132.25, -67) -> (47.75, -67)
  line L46 (47.75, -67) -> (47.75, -51.5)
  line L47 (47.75, -51.5) -> (132.25, -51.5)
  line L48 (132.25, -51.5) -> (132.25, -67)
  line L49 (132.25, -67) -> (123.25, -67)
  line L50 (123.25, -67) -> (123.25, -64)
  line L51 (123.25, -64) -> (132.25, -64)
  line L52 (132.25, -64) -> (132.25, -67)
  line L53 (123.25, -64) -> (56.25, -64)
  line L54 (56.25, -64) -> (56.25, -62)
  line L55 (56.25, -62) -> (123.25, -62)
  line L56 (123.25, -62) -> (123.25, -64)
  circle A8 centre (132.25, -35) radius 1.5 projected
  circle A9 centre (47.75, -19.5) radius 1.5 projected
  line L57 (132.25, -35) -> (47.75, -35)
  line L58 (47.75, -35) -> (47.75, -19.5)
  line L59 (47.75, -19.5) -> (132.25, -19.5)
  line L60 (132.25, -19.5) -> (132.25, -35)
  circle A10 centre (132.25, -35) radius 3 projected
  line L61 (132.25, -35) -> (123.25, -35)
  line L62 (123.25, -35) -> (123.25, -32)
  line L63 (123.25, -32) -> (132.25, -32)
  line L64 (132.25, -32) -> (132.25, -35)
  line L65 (123.25, -32) -> (56.25, -32)
  line L66 (56.25, -32) -> (56.25, -30)
  line L67 (56.25, -30) -> (123.25, -30)
  line L68 (123.25, -30) -> (123.25, -32)
  dimension "d179" = 15
  dimension "d180" = 15
  dimension "d181" = 15.5
  dimension "d182" = 84.5
  dimension "d183" = 3
  dimension "d184" = 9
  dimension "d185" = 2
  dimension "d186" = 67
  dimension "d187" = 15
  dimension "d188" = 15
  dimension "d189" = 15.5
  dimension "d190" = 84.5
  dimension "d191" = 3
  dimension "d192" = 9
  dimension "d193" = 2
  dimension "d194" = 67
  dimension "d195" = 9
  dimension "d196" = 3
  dimension "d197" = 67
  dimension "d198" = 2
  dimension "d199" = 9
  dimension "d200" = 3
  dimension "d201" = 67
  dimension "d202" = 2
  dimension "d203" = 9
  dimension "d204" = 3
  dimension "d205" = 67
  dimension "d206" = 2
extrude "Extrusion4" cut sketch "Sketch9" against normal blind 10 contours L16 L15 L14 L13 | L32 L31 L30 L29 | L41 L42 L43 L44 | L53 L54 L55 L56 | L65 L66 L67 L68
extrude "Extrusion5" add sketch "Sketch6" along normal blind 20 contours A1 L3 | L3 L7 A0 L6 A1 | L6 A0 L7 L3 A1 | A3 L11 A2 L10 | L10 A2 L11 A3 | A0 L7 L6 | L6 L7 A0 | A2 L11 L10 | L10 L11 A2
sketch "Sketch10" plane through (102.5, -43, 22) normal (0, 0, 1) x (1, 0, 0)
  circle A0 centre (0, 0) radius 3 projected
  circle A1 centre (0, 0) radius 1.5
  circle A2 centre (39, -7) radius 3 projected
  circle A3 centre (39, -7) radius 1.5
  point P0 (-102.5, 43)
  point P1 (36.7167, -8.9459)
  point P2 (36.0333, -6.5541)
  dimension "d221" = 3
  dimension "d222" = 3
extrude "Extrusion6" cut sketch "Sketch10" against normal blind 10 contours A1 | A3
sketch "Sketch12" plane through (0, 0, 2) normal (0, 0, 1) x (1, 0, 0)
  line L0 (0, -120) -> (180, -120) projected
  line L1 (180, 0) -> (0, 0) projected
  line L2 (0, -120) -> (2, -120)
  line L3 (2, -120) -> (2, 0)
  line L4 (2, 0) -> (0, 0)
  line L5 (0, 0) -> (0, -120)
  line L6 (180, -120) -> (180, 0) projected
  line L7 (0, -120) -> (180, -120)
  line L8 (180, -120) -> (180, -118)
  line L9 (180, -118) -> (0, -118)
  line L10 (0, -118) -> (0, -120)
  line L11 (180, 0) -> (178, 0)
  line L12 (178, 0) -> (178, -120)
  line L13 (178, -120) -> (180, -120)
  line L14 (180, -120) -> (180, 0)
  line L15 (180, 0) -> (0, 0)
  line L16 (0, 0) -> (0, -2)
  line L17 (0, -2) -> (180, -2)
  line L18 (180, -2) -> (180, 0)
  point P0 (2, -118)
  point P1 (2, -2)
  point P2 (178, -2)
  point P3 (178, -118)
  dimension "d225" = 2
  dimension "d226" = 2
  dimension "d227" = 2
  dimension "d228" = 2
extrude "Extrusion7" add sketch "Sketch12" along normal blind 5 contours L5 L9 L3 L0 | L3 L9 L12 L0 | L5 L17 L3 L9 | L12 L9 L6 L0 | L5 L1 L3 L17 | L12 L17 L6 L9 | L3 L1 L12 L17 | L12 L1 L6 L17
extrude "Extrusion8" add sketch "Sketch4" along normal blind 50 contours L9 L12 L11 L0 | L2 L3 L4 L0 | L9 L6 L19 L20 | L6 L7 L16 L15
fillet "Fillet1" radius 3 4 edges at (0, -120, 26) (180, -120, 26) (180, 0, 26) (0, 0, 26)
sketch "Sketch13" plane through (0, 0, 52) normal (0, 0, 1) x (1, 0, 0)
  line L0 (0, 0) -> (4, 0)
  line L1 (4, 0) -> (4, -4)
  line L2 (4, -4) -> (0, -4)
  line L3 (0, -4) -> (0, 0)
  circle A0 centre (4, -4) radius 1.5
  line L4 (177, 0) -> (3, 0) projected
  line L5 (90, 0) -> (90, -120)
  line L6 (8, -120) -> (172, -120) projected
  line L7 (0, -8) -> (0, -112) projected
  line L8 (0, -60) -> (180, -60)
  line L9 (180, -117) -> (180, -3) projected
  circle A1 centre (176, -4) radius 1.5
  circle A2 centre (4, -116) radius 1.5
  circle A3 centre (176, -116) radius 1.5
  dimension "d234" = 4
  dimension "d235" = 4
  dimension "d236" = 3
extrude "Extrusion9" cut sketch "Sketch13" against normal blind 10 contours A0 L1 L2 | L2 L1 A0 | A1 | A2 | A3
properties part number "reduced_tortoise"
